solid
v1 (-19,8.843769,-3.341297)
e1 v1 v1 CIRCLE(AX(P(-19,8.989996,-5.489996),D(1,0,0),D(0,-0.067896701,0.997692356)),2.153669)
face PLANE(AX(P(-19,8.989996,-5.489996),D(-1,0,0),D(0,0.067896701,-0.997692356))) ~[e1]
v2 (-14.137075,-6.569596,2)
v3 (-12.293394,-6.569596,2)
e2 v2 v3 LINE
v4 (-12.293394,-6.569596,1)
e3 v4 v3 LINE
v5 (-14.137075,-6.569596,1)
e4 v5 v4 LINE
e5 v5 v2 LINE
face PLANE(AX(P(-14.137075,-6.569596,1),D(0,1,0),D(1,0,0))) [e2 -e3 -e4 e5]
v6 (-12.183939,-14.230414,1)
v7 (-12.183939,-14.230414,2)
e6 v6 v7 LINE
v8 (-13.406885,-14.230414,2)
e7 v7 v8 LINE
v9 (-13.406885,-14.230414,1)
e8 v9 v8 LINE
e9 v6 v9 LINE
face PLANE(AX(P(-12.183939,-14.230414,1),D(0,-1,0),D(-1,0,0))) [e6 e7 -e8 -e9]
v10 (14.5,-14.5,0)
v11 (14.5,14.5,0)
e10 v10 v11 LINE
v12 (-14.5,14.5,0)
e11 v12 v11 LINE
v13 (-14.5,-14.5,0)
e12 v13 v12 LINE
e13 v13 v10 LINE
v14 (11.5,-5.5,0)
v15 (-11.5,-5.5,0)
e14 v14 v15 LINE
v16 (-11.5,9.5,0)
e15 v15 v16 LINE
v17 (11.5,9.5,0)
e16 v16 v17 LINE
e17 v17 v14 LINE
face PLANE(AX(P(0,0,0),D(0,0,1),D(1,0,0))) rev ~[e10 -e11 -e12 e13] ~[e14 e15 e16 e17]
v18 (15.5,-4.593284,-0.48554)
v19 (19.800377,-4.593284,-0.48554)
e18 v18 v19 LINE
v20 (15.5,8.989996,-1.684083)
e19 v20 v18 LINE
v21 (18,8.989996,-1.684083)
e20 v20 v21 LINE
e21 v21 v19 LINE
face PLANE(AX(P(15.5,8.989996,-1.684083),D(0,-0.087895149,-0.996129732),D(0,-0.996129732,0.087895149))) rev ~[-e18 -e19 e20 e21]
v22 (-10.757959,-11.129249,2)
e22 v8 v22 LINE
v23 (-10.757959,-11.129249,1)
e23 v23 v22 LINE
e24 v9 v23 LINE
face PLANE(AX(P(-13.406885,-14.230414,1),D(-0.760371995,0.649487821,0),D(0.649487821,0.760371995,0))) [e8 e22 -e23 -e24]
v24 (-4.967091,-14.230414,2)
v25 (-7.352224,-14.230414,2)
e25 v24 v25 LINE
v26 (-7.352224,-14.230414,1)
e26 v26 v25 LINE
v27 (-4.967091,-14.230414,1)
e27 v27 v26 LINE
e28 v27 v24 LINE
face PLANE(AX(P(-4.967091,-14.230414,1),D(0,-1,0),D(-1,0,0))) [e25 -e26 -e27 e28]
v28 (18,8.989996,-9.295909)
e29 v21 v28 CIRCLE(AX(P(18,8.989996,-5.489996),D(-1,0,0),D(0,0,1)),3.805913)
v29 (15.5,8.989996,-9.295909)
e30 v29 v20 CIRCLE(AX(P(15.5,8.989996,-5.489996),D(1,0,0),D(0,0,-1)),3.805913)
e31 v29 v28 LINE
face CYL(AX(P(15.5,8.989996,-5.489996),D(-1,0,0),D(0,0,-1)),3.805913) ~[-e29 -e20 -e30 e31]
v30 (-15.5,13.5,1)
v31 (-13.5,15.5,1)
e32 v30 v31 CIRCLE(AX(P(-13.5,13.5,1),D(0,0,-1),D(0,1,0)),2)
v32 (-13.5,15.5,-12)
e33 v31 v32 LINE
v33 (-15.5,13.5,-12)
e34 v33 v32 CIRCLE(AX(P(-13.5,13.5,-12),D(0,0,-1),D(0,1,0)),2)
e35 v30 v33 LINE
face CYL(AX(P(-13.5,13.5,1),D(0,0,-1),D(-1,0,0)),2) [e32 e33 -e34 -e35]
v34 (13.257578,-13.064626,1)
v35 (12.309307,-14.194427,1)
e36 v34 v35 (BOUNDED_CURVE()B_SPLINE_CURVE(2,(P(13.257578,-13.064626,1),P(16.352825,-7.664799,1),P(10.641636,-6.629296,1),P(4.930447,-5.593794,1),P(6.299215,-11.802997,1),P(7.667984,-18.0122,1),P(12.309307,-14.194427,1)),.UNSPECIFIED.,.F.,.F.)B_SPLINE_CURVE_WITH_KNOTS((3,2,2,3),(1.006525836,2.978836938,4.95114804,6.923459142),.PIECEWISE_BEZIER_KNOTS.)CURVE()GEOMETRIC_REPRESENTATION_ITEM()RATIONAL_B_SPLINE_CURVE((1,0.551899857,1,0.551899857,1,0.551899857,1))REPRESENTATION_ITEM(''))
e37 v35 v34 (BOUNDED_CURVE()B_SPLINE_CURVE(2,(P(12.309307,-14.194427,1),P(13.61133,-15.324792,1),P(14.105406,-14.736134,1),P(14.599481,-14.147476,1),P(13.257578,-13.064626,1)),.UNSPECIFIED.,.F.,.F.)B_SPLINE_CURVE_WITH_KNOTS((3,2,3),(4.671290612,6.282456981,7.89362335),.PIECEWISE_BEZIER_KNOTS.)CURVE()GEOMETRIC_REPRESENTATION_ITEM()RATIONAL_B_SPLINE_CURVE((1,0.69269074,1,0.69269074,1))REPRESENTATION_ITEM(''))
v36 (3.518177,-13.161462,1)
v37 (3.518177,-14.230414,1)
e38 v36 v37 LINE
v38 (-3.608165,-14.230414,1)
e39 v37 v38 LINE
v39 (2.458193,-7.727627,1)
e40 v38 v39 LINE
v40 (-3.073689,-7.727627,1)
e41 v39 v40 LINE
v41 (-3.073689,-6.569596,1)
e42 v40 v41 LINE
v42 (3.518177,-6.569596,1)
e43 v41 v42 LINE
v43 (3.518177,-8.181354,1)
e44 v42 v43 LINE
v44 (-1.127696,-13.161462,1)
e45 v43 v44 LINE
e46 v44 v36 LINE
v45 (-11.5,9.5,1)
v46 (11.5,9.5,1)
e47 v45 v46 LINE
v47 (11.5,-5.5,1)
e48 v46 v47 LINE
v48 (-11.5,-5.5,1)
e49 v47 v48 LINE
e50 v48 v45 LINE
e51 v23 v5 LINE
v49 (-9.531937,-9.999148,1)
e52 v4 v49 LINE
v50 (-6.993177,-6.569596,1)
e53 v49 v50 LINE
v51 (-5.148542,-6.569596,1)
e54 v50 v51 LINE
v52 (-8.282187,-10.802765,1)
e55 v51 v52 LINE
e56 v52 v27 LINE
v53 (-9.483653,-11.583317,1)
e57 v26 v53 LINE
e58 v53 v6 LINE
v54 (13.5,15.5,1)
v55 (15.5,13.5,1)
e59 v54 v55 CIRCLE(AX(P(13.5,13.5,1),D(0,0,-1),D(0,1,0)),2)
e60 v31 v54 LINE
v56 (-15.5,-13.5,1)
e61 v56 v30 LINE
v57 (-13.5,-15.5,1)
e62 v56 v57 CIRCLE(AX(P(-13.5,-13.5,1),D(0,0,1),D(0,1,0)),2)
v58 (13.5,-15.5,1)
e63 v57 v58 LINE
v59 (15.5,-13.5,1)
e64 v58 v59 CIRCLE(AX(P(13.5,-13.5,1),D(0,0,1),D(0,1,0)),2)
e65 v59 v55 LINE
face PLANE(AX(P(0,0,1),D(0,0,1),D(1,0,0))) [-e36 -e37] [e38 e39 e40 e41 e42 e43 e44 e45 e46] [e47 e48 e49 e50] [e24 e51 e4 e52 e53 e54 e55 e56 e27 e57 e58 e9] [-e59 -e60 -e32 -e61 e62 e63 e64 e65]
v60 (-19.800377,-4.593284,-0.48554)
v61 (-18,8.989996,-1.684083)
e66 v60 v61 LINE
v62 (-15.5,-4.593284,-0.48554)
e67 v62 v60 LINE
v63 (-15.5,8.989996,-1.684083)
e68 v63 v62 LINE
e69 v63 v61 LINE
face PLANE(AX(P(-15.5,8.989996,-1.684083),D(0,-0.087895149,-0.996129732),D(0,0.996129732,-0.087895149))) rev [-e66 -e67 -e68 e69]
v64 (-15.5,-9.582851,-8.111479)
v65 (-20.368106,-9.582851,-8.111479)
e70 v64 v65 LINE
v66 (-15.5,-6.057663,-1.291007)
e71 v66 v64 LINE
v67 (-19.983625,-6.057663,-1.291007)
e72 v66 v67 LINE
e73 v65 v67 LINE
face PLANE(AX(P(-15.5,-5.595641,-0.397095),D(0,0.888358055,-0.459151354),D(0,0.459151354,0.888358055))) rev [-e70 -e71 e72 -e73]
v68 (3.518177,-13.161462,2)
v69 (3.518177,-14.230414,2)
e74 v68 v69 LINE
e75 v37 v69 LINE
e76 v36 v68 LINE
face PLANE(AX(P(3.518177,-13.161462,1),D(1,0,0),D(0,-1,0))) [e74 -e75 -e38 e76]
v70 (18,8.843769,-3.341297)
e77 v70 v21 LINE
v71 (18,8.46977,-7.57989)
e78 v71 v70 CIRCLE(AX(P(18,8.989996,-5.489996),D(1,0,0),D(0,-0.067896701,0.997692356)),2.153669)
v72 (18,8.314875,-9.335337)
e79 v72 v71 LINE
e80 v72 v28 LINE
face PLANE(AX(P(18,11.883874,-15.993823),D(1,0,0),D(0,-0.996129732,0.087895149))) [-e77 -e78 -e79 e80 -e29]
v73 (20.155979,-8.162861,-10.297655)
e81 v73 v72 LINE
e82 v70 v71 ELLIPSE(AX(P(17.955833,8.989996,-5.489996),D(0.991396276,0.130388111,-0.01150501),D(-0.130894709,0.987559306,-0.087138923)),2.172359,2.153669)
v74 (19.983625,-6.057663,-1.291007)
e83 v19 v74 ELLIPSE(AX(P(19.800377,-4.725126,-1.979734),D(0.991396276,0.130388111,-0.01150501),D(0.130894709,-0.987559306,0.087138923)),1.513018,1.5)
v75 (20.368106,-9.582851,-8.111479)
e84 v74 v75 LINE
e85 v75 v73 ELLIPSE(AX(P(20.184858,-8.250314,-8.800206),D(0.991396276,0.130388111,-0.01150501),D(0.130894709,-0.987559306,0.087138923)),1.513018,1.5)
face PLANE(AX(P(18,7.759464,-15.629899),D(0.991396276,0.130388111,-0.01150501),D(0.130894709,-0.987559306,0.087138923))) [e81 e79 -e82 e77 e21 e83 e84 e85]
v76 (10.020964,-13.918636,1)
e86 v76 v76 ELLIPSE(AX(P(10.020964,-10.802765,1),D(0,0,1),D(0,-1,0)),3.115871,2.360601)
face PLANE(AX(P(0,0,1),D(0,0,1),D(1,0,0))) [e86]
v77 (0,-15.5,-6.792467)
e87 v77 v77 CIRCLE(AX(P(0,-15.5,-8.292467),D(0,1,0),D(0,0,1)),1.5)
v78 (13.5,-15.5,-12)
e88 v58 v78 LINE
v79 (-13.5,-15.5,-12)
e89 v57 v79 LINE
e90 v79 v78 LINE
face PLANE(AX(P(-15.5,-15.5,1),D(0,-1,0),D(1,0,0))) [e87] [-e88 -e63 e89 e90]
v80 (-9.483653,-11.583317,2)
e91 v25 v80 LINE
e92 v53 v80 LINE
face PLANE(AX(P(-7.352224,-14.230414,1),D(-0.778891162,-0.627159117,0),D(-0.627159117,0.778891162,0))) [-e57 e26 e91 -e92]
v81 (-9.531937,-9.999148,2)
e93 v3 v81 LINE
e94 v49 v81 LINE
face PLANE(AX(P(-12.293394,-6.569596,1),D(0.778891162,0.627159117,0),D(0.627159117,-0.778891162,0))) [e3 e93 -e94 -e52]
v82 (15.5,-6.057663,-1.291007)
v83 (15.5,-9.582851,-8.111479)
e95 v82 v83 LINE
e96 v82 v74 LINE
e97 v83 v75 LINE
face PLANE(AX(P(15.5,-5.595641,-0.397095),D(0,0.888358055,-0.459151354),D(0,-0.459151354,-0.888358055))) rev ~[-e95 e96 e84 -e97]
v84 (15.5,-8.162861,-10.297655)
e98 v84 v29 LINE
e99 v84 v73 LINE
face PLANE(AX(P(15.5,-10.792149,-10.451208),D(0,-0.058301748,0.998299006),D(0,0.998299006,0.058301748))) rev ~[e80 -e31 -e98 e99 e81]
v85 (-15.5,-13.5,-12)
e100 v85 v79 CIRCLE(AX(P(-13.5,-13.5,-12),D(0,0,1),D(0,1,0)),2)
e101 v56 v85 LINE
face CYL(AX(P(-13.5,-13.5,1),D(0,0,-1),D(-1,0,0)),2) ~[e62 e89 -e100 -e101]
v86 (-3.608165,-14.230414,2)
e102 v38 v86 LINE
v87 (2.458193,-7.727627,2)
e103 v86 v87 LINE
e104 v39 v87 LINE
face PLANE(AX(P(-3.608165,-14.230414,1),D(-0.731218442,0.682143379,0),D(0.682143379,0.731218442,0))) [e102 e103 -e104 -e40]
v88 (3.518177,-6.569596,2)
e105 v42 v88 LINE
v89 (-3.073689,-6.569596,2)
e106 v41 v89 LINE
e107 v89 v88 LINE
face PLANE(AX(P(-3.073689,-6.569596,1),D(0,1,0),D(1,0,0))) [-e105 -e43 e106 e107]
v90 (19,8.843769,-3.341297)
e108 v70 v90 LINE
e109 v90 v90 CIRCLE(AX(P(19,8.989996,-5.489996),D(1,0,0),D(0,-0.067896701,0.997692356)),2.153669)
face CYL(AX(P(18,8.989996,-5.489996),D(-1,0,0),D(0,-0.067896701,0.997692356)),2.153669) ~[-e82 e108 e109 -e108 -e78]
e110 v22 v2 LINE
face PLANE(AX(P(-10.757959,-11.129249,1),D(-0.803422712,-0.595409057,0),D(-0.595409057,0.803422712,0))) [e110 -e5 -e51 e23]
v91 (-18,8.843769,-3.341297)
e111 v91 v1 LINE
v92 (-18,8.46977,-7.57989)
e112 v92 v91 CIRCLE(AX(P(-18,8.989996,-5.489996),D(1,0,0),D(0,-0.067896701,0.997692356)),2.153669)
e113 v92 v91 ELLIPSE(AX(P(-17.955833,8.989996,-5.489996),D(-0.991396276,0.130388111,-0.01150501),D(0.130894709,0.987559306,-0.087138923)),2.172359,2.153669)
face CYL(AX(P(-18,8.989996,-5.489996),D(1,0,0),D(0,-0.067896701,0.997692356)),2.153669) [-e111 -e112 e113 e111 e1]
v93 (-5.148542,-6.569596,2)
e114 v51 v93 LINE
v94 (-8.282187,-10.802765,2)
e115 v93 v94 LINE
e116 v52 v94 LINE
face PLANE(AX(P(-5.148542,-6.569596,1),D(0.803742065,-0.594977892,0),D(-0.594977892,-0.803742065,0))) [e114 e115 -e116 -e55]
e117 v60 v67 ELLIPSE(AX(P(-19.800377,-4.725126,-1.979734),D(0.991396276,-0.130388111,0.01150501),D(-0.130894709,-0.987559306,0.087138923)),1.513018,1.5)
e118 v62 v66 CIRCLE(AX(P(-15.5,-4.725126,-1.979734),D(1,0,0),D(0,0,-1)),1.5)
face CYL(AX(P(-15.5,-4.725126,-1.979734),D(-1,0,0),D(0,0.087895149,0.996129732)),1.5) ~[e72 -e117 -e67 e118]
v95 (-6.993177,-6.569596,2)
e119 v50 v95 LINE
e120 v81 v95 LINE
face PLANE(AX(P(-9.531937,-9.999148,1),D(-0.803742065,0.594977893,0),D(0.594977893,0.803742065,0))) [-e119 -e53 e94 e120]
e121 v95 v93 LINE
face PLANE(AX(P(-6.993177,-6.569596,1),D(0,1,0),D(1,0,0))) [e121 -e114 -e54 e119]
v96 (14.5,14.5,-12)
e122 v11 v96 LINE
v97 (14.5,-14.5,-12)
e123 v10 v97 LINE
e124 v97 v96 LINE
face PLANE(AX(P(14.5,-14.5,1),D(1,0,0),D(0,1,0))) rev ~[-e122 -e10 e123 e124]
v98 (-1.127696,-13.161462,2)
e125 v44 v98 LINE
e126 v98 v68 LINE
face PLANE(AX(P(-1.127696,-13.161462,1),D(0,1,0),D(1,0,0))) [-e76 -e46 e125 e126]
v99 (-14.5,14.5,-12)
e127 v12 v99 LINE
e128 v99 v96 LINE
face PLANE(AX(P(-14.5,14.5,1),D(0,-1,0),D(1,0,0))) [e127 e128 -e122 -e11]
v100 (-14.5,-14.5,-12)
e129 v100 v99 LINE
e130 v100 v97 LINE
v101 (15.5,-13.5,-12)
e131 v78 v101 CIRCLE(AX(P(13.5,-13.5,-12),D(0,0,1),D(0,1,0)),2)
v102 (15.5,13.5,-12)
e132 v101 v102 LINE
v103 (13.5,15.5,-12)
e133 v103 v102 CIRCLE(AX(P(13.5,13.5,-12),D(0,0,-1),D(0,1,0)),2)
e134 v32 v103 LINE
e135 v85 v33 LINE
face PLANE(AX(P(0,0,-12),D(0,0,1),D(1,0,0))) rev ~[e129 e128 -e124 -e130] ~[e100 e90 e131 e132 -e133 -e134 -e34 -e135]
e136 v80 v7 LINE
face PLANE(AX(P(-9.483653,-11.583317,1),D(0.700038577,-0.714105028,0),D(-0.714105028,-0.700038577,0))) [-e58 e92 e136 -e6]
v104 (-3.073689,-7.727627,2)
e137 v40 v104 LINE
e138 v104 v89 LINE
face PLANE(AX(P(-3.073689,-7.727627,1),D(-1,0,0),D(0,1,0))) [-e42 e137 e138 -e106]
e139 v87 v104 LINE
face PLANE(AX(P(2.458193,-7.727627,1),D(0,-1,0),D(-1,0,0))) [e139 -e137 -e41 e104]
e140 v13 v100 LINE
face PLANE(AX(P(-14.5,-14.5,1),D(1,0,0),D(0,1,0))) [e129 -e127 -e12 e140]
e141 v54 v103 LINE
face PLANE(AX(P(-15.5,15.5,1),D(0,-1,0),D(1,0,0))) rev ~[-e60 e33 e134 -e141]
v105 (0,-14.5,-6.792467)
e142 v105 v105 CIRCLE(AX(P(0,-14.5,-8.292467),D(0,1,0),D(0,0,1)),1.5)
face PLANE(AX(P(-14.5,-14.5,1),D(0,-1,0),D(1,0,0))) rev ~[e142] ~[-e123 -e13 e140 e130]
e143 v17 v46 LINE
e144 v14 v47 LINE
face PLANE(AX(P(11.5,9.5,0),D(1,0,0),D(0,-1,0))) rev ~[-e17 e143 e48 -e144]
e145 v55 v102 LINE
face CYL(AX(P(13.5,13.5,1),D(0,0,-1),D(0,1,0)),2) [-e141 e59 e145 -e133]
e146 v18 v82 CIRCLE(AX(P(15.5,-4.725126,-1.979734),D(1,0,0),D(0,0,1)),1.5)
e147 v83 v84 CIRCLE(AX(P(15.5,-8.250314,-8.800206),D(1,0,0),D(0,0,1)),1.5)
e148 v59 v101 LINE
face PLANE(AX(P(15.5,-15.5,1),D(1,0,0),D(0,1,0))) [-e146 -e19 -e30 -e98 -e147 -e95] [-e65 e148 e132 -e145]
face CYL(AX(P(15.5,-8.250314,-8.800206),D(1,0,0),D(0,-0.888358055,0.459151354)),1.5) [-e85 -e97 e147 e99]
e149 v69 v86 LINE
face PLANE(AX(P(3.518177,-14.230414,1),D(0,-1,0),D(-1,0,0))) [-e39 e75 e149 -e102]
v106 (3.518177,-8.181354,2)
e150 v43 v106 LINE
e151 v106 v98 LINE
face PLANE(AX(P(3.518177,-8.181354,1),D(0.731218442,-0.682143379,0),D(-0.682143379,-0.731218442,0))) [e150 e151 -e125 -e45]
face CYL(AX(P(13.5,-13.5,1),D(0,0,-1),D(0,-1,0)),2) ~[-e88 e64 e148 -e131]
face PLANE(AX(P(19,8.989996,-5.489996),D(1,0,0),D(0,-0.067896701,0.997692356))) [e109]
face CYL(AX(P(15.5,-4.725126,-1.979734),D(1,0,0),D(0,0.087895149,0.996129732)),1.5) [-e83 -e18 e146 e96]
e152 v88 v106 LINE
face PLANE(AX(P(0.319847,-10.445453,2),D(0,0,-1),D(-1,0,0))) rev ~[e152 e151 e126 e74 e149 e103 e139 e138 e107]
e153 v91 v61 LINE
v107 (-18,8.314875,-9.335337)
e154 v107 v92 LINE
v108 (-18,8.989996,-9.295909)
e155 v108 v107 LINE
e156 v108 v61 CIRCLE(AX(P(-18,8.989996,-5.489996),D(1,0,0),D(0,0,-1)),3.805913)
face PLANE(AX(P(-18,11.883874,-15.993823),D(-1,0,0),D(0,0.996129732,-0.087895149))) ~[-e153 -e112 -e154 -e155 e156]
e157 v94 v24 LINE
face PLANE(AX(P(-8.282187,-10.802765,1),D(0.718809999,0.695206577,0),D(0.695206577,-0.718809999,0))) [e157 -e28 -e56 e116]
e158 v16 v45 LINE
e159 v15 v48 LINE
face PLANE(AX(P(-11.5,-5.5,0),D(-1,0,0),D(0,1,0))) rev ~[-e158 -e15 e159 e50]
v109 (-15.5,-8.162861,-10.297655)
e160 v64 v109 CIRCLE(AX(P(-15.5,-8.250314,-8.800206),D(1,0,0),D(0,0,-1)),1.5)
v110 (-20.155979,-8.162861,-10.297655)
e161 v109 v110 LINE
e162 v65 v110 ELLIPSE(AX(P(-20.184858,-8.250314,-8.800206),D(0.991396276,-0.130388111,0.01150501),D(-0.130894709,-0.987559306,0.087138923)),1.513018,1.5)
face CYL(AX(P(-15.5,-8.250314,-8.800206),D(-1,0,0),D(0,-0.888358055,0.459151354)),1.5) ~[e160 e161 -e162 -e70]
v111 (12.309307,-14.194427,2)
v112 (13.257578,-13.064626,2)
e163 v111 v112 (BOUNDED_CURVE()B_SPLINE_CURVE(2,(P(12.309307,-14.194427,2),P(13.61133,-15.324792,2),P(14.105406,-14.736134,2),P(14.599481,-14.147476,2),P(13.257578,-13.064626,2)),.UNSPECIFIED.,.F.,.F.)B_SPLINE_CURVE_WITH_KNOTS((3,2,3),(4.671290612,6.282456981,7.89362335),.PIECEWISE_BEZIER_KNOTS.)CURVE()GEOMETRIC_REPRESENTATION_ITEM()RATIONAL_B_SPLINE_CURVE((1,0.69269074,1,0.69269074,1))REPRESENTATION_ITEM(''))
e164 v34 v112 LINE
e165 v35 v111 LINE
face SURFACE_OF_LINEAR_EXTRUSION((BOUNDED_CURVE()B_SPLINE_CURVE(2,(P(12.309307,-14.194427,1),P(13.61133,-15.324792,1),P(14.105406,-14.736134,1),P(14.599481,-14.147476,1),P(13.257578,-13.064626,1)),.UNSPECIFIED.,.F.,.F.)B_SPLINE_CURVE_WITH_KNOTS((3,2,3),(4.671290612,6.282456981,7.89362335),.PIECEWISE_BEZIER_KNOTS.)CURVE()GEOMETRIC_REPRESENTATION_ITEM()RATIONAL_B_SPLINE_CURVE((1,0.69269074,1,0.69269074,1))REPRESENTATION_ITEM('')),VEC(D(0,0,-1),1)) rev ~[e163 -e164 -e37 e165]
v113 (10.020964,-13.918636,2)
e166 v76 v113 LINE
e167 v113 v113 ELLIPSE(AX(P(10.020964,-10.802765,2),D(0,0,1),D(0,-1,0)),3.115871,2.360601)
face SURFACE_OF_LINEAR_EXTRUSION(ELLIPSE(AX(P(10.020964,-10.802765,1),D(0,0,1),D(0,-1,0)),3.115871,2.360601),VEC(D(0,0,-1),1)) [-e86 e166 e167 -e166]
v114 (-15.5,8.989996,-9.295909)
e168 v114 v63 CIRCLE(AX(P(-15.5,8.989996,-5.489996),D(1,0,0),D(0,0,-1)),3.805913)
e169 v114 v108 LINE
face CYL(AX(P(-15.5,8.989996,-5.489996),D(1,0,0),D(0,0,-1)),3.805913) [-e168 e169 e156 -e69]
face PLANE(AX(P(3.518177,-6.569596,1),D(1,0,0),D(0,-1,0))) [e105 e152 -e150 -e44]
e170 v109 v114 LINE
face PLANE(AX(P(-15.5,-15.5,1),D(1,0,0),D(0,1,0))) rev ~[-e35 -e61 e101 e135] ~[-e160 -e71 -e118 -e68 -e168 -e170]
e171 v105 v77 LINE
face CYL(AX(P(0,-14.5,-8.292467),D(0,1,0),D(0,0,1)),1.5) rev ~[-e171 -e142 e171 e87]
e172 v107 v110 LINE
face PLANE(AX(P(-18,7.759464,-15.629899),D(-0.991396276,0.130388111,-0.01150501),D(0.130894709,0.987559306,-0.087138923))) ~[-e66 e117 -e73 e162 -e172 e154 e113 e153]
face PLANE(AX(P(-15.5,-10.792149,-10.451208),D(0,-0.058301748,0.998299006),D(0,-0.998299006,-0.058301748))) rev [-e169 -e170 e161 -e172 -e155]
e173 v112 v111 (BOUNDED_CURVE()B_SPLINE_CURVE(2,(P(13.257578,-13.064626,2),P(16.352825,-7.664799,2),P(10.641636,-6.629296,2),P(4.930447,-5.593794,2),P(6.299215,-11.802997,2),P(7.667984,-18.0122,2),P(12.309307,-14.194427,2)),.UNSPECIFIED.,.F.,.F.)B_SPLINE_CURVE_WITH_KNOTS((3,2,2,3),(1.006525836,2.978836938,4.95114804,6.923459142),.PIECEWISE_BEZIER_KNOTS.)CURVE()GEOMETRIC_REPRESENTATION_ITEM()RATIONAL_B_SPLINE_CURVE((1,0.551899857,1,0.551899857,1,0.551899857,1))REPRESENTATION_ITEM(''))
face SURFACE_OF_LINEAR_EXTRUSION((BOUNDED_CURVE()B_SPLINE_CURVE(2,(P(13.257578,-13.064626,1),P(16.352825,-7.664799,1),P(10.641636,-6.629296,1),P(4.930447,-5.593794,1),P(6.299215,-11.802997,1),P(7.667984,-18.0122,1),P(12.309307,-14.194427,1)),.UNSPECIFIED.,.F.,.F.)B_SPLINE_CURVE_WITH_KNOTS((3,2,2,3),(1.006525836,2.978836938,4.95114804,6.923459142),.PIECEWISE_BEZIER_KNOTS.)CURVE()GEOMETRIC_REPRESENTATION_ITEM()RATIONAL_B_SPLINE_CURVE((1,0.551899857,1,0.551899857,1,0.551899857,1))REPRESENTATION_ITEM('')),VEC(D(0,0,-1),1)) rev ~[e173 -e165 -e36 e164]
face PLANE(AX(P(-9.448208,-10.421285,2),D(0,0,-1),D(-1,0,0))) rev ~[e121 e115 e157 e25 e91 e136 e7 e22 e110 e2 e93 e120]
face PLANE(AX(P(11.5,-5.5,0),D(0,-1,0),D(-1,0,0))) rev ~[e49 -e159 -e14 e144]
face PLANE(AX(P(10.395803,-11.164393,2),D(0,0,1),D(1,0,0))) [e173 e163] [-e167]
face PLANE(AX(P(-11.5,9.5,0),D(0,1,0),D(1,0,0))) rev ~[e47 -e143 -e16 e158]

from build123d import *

# Parameters (mm, degrees)
SKETCH_1_W          = 29
SKETCH_1_H          = 29
EXTRUDE_1_DEPTH     = 1
SKETCH_2_W          = 31
SKETCH_2_H          = 31
SKETCH_2_W_2        = 29
SKETCH_2_H_2        = 29
EXTRUDE_2_DEPTH     = 13
EXTRUDE_4_DEPTH     = 5
CUT_EXTRUDE_START   = -14
CUT_EXTRUDE_2_DEPTH = 27
SKETCH_5_R          = 2.15366908
EXTRUDE_5_DEPTH     = 1
FILLET_2_R          = 2
FILLET_3_R          = 1.5
SKETCH_6_R          = 1.5
CUT_EXTRUDE_3_DEPTH = 10
SKETCH_7_RX         = 3.115871069
SKETCH_7_RY         = 2.3606007
EXTRUDE_6_DEPTH     = 1


with BuildPart() as part:
    # 草图1 → 凸台-拉伸1 (new body)
    with BuildSketch(Plane.XY):
        Rectangle(SKETCH_1_W, SKETCH_1_H)
        Polygon((-11.5, 0), (-11.5, 9.5), (11.5, 9.5), (11.5, -5.5), (-11.5, -5.5), align=None, mode=Mode.SUBTRACT)
    extrude(amount=EXTRUDE_1_DEPTH)

    # 草图2 → 凸台-拉伸2 (add)
    with BuildSketch(Plane.XY.offset(1)):
        Rectangle(SKETCH_2_W, SKETCH_2_H)
        Rectangle(SKETCH_2_W_2, SKETCH_2_H_2, mode=Mode.SUBTRACT)
    extrude(amount=-EXTRUDE_2_DEPTH)

    # 草图3 → 凸台-拉伸4 (add)
    with BuildSketch(Plane(origin=(15.5, 0, 0), x_dir=(0, 0, -1), z_dir=(1, 0, 0))):
        with BuildLine():
            Line((1.684082639, 8.989995997), (0.397094894, -5.595641246))
            Line((0.397094894, -5.595641246), (10.451208148, -10.79214922))
            Line((10.451208148, -10.79214922), (9.295909354, 8.989995997))
            ThreePointArc((9.295909354, 8.989995997), (5.489995997, 12.795909354), (1.684082639, 8.989995997))
        make_face()
    extrude_4 = extrude(amount=EXTRUDE_4_DEPTH)

    # 草图4 → 切除-拉伸2 (cut)
    with BuildSketch(Plane(origin=(0, -0.077997079, -0.883953322), x_dir=(1, 0, 0), z_dir=(0, 0.08789514896151537, 0.9961297319069606)).offset(CUT_EXTRUDE_START)):
        Polygon((18, 9.103224997), (20.5, -9.831770213), (20.5, 13.243659675), (18, 13.243659675), align=None)
    cut_extrude_2 = extrude(amount=CUT_EXTRUDE_2_DEPTH, mode=Mode.SUBTRACT)

    # 草图5 → 凸台-拉伸5 (add)
    with BuildSketch(Plane(origin=(18, 0, 0), x_dir=(0, 0, -1), z_dir=(1, 0, 0))):
        with Locations((5.489995997, 8.989995997)):
            Circle(SKETCH_5_R)
    extrude_5 = extrude(amount=EXTRUDE_5_DEPTH)

    # 镜向1: 凸台-拉伸4, 切除-拉伸2, 凸台-拉伸5 across plane
    add(extrude_4.mirror(Plane(origin=(0, 0, 0), x_dir=(0, 0, 1), z_dir=(1, 0, 0))))
    add(cut_extrude_2.mirror(Plane(origin=(0, 0, 0), x_dir=(0, 0, 1), z_dir=(1, 0, 0))), mode=Mode.SUBTRACT)
    add(extrude_5.mirror(Plane(origin=(0, 0, 0), x_dir=(0, 0, 1), z_dir=(1, 0, 0))))

    # 圆角2
    fillet_2_edges = [part.edges().sort_by_distance(p)[0] for p in [
        (15.5, -15.5, -5.5),
        (15.5, 15.5, -5.5),
        (-15.5, 15.5, -5.5),
        (-15.5, -15.5, -5.5),
    ]]
    fillet(fillet_2_edges, radius=FILLET_2_R)

    # 圆角3
    fillet_3_edges = [part.edges().sort_by_distance(p)[0] for p in [
        (18, -10.79214922, -10.451208148),
        (17.716616755, -5.595641246, -0.397094894),
        (-18, -10.79214922, -10.451208148),
        (-17.716616755, -5.595641246, -0.397094894),
    ]]
    fillet(fillet_3_edges, radius=FILLET_3_R)

    # 草图6 → 切除-拉伸3 (cut)
    with BuildSketch(Plane(origin=(0, -14.5, 0), x_dir=(1, 0, 0), z_dir=(0, 1, 0))):
        with Locations((0, 8.292466775)):
            Circle(SKETCH_6_R)
    extrude(amount=-CUT_EXTRUDE_3_DEPTH, mode=Mode.SUBTRACT)

    # 草图7 → 凸台-拉伸6 (add)
    # profile 1 of 3: a face of its own
    with BuildSketch(Plane.XY.offset(1)):
        Polygon((-14.13707497, -6.569596288), (-12.29339398, -6.569596288), (-9.531936558, -9.999148248), (-6.993177314, -6.569596288), (-5.148542266, -6.569596288), (-8.282186736, -10.802765134), (-4.967091233, -14.230413654), (-7.35222414, -14.230413654), (-9.483652502, -11.583317139), (-12.183939304, -14.230413654), (-13.406884876, -14.230413654), (-10.757959228, -11.129248682), align=None)
    # profile 2 of 3: a face of its own
    with BuildSketch(Plane.XY.offset(1)):
        Polygon((-3.07368936, -6.569596288), (3.518176746, -6.569596288), (3.518176746, -8.181354333), (-1.127695874, -13.161462393), (3.518176746, -13.161462393), (3.518176746, -14.230413654), (-3.60816499, -14.230413654), (2.458193197, -7.72762682), (-3.07368936, -7.72762682), align=None)
    # profile 3 of 3: a face of its own
    with BuildSketch(Plane.XY.offset(1)):
        with BuildLine():
            add(Edge.make_bspline(
                [(13.257578349, -13.064625962), (16.352824865, -7.664798791), (10.641635787, -6.629296303), (4.930446709, -5.593793814), (6.299215158, -11.802996851), (7.667983606, -18.012199887), (12.309307415, -14.194426658)],
                knots=[1.006525836, 1.006525836, 1.006525836, 2.978836938, 2.978836938, 4.95114804, 4.95114804, 6.923459142, 6.923459142, 6.923459142], degree=2, weights=[1, 0.551899857, 1, 0.551899857, 1, 0.551899857, 1]))
            add(Edge.make_bspline(
                [(12.309307415, -14.194426658), (13.611329655, -15.324791628), (14.10540557, -14.736133584), (14.599481485, -14.147475541), (13.257578349, -13.064625962)],
                knots=[4.671290612, 4.671290612, 4.671290612, 6.282456981, 6.282456981, 7.89362335, 7.89362335, 7.89362335], degree=2, weights=[1, 0.69269074, 1, 0.69269074, 1]))
        make_face()
        with Locations(Location((10.02096358, -10.802765134), (0, 0, -90))):
            Ellipse(SKETCH_7_RX, SKETCH_7_RY, mode=Mode.SUBTRACT)
    extrude(amount=EXTRUDE_6_DEPTH)


solid = part.part
